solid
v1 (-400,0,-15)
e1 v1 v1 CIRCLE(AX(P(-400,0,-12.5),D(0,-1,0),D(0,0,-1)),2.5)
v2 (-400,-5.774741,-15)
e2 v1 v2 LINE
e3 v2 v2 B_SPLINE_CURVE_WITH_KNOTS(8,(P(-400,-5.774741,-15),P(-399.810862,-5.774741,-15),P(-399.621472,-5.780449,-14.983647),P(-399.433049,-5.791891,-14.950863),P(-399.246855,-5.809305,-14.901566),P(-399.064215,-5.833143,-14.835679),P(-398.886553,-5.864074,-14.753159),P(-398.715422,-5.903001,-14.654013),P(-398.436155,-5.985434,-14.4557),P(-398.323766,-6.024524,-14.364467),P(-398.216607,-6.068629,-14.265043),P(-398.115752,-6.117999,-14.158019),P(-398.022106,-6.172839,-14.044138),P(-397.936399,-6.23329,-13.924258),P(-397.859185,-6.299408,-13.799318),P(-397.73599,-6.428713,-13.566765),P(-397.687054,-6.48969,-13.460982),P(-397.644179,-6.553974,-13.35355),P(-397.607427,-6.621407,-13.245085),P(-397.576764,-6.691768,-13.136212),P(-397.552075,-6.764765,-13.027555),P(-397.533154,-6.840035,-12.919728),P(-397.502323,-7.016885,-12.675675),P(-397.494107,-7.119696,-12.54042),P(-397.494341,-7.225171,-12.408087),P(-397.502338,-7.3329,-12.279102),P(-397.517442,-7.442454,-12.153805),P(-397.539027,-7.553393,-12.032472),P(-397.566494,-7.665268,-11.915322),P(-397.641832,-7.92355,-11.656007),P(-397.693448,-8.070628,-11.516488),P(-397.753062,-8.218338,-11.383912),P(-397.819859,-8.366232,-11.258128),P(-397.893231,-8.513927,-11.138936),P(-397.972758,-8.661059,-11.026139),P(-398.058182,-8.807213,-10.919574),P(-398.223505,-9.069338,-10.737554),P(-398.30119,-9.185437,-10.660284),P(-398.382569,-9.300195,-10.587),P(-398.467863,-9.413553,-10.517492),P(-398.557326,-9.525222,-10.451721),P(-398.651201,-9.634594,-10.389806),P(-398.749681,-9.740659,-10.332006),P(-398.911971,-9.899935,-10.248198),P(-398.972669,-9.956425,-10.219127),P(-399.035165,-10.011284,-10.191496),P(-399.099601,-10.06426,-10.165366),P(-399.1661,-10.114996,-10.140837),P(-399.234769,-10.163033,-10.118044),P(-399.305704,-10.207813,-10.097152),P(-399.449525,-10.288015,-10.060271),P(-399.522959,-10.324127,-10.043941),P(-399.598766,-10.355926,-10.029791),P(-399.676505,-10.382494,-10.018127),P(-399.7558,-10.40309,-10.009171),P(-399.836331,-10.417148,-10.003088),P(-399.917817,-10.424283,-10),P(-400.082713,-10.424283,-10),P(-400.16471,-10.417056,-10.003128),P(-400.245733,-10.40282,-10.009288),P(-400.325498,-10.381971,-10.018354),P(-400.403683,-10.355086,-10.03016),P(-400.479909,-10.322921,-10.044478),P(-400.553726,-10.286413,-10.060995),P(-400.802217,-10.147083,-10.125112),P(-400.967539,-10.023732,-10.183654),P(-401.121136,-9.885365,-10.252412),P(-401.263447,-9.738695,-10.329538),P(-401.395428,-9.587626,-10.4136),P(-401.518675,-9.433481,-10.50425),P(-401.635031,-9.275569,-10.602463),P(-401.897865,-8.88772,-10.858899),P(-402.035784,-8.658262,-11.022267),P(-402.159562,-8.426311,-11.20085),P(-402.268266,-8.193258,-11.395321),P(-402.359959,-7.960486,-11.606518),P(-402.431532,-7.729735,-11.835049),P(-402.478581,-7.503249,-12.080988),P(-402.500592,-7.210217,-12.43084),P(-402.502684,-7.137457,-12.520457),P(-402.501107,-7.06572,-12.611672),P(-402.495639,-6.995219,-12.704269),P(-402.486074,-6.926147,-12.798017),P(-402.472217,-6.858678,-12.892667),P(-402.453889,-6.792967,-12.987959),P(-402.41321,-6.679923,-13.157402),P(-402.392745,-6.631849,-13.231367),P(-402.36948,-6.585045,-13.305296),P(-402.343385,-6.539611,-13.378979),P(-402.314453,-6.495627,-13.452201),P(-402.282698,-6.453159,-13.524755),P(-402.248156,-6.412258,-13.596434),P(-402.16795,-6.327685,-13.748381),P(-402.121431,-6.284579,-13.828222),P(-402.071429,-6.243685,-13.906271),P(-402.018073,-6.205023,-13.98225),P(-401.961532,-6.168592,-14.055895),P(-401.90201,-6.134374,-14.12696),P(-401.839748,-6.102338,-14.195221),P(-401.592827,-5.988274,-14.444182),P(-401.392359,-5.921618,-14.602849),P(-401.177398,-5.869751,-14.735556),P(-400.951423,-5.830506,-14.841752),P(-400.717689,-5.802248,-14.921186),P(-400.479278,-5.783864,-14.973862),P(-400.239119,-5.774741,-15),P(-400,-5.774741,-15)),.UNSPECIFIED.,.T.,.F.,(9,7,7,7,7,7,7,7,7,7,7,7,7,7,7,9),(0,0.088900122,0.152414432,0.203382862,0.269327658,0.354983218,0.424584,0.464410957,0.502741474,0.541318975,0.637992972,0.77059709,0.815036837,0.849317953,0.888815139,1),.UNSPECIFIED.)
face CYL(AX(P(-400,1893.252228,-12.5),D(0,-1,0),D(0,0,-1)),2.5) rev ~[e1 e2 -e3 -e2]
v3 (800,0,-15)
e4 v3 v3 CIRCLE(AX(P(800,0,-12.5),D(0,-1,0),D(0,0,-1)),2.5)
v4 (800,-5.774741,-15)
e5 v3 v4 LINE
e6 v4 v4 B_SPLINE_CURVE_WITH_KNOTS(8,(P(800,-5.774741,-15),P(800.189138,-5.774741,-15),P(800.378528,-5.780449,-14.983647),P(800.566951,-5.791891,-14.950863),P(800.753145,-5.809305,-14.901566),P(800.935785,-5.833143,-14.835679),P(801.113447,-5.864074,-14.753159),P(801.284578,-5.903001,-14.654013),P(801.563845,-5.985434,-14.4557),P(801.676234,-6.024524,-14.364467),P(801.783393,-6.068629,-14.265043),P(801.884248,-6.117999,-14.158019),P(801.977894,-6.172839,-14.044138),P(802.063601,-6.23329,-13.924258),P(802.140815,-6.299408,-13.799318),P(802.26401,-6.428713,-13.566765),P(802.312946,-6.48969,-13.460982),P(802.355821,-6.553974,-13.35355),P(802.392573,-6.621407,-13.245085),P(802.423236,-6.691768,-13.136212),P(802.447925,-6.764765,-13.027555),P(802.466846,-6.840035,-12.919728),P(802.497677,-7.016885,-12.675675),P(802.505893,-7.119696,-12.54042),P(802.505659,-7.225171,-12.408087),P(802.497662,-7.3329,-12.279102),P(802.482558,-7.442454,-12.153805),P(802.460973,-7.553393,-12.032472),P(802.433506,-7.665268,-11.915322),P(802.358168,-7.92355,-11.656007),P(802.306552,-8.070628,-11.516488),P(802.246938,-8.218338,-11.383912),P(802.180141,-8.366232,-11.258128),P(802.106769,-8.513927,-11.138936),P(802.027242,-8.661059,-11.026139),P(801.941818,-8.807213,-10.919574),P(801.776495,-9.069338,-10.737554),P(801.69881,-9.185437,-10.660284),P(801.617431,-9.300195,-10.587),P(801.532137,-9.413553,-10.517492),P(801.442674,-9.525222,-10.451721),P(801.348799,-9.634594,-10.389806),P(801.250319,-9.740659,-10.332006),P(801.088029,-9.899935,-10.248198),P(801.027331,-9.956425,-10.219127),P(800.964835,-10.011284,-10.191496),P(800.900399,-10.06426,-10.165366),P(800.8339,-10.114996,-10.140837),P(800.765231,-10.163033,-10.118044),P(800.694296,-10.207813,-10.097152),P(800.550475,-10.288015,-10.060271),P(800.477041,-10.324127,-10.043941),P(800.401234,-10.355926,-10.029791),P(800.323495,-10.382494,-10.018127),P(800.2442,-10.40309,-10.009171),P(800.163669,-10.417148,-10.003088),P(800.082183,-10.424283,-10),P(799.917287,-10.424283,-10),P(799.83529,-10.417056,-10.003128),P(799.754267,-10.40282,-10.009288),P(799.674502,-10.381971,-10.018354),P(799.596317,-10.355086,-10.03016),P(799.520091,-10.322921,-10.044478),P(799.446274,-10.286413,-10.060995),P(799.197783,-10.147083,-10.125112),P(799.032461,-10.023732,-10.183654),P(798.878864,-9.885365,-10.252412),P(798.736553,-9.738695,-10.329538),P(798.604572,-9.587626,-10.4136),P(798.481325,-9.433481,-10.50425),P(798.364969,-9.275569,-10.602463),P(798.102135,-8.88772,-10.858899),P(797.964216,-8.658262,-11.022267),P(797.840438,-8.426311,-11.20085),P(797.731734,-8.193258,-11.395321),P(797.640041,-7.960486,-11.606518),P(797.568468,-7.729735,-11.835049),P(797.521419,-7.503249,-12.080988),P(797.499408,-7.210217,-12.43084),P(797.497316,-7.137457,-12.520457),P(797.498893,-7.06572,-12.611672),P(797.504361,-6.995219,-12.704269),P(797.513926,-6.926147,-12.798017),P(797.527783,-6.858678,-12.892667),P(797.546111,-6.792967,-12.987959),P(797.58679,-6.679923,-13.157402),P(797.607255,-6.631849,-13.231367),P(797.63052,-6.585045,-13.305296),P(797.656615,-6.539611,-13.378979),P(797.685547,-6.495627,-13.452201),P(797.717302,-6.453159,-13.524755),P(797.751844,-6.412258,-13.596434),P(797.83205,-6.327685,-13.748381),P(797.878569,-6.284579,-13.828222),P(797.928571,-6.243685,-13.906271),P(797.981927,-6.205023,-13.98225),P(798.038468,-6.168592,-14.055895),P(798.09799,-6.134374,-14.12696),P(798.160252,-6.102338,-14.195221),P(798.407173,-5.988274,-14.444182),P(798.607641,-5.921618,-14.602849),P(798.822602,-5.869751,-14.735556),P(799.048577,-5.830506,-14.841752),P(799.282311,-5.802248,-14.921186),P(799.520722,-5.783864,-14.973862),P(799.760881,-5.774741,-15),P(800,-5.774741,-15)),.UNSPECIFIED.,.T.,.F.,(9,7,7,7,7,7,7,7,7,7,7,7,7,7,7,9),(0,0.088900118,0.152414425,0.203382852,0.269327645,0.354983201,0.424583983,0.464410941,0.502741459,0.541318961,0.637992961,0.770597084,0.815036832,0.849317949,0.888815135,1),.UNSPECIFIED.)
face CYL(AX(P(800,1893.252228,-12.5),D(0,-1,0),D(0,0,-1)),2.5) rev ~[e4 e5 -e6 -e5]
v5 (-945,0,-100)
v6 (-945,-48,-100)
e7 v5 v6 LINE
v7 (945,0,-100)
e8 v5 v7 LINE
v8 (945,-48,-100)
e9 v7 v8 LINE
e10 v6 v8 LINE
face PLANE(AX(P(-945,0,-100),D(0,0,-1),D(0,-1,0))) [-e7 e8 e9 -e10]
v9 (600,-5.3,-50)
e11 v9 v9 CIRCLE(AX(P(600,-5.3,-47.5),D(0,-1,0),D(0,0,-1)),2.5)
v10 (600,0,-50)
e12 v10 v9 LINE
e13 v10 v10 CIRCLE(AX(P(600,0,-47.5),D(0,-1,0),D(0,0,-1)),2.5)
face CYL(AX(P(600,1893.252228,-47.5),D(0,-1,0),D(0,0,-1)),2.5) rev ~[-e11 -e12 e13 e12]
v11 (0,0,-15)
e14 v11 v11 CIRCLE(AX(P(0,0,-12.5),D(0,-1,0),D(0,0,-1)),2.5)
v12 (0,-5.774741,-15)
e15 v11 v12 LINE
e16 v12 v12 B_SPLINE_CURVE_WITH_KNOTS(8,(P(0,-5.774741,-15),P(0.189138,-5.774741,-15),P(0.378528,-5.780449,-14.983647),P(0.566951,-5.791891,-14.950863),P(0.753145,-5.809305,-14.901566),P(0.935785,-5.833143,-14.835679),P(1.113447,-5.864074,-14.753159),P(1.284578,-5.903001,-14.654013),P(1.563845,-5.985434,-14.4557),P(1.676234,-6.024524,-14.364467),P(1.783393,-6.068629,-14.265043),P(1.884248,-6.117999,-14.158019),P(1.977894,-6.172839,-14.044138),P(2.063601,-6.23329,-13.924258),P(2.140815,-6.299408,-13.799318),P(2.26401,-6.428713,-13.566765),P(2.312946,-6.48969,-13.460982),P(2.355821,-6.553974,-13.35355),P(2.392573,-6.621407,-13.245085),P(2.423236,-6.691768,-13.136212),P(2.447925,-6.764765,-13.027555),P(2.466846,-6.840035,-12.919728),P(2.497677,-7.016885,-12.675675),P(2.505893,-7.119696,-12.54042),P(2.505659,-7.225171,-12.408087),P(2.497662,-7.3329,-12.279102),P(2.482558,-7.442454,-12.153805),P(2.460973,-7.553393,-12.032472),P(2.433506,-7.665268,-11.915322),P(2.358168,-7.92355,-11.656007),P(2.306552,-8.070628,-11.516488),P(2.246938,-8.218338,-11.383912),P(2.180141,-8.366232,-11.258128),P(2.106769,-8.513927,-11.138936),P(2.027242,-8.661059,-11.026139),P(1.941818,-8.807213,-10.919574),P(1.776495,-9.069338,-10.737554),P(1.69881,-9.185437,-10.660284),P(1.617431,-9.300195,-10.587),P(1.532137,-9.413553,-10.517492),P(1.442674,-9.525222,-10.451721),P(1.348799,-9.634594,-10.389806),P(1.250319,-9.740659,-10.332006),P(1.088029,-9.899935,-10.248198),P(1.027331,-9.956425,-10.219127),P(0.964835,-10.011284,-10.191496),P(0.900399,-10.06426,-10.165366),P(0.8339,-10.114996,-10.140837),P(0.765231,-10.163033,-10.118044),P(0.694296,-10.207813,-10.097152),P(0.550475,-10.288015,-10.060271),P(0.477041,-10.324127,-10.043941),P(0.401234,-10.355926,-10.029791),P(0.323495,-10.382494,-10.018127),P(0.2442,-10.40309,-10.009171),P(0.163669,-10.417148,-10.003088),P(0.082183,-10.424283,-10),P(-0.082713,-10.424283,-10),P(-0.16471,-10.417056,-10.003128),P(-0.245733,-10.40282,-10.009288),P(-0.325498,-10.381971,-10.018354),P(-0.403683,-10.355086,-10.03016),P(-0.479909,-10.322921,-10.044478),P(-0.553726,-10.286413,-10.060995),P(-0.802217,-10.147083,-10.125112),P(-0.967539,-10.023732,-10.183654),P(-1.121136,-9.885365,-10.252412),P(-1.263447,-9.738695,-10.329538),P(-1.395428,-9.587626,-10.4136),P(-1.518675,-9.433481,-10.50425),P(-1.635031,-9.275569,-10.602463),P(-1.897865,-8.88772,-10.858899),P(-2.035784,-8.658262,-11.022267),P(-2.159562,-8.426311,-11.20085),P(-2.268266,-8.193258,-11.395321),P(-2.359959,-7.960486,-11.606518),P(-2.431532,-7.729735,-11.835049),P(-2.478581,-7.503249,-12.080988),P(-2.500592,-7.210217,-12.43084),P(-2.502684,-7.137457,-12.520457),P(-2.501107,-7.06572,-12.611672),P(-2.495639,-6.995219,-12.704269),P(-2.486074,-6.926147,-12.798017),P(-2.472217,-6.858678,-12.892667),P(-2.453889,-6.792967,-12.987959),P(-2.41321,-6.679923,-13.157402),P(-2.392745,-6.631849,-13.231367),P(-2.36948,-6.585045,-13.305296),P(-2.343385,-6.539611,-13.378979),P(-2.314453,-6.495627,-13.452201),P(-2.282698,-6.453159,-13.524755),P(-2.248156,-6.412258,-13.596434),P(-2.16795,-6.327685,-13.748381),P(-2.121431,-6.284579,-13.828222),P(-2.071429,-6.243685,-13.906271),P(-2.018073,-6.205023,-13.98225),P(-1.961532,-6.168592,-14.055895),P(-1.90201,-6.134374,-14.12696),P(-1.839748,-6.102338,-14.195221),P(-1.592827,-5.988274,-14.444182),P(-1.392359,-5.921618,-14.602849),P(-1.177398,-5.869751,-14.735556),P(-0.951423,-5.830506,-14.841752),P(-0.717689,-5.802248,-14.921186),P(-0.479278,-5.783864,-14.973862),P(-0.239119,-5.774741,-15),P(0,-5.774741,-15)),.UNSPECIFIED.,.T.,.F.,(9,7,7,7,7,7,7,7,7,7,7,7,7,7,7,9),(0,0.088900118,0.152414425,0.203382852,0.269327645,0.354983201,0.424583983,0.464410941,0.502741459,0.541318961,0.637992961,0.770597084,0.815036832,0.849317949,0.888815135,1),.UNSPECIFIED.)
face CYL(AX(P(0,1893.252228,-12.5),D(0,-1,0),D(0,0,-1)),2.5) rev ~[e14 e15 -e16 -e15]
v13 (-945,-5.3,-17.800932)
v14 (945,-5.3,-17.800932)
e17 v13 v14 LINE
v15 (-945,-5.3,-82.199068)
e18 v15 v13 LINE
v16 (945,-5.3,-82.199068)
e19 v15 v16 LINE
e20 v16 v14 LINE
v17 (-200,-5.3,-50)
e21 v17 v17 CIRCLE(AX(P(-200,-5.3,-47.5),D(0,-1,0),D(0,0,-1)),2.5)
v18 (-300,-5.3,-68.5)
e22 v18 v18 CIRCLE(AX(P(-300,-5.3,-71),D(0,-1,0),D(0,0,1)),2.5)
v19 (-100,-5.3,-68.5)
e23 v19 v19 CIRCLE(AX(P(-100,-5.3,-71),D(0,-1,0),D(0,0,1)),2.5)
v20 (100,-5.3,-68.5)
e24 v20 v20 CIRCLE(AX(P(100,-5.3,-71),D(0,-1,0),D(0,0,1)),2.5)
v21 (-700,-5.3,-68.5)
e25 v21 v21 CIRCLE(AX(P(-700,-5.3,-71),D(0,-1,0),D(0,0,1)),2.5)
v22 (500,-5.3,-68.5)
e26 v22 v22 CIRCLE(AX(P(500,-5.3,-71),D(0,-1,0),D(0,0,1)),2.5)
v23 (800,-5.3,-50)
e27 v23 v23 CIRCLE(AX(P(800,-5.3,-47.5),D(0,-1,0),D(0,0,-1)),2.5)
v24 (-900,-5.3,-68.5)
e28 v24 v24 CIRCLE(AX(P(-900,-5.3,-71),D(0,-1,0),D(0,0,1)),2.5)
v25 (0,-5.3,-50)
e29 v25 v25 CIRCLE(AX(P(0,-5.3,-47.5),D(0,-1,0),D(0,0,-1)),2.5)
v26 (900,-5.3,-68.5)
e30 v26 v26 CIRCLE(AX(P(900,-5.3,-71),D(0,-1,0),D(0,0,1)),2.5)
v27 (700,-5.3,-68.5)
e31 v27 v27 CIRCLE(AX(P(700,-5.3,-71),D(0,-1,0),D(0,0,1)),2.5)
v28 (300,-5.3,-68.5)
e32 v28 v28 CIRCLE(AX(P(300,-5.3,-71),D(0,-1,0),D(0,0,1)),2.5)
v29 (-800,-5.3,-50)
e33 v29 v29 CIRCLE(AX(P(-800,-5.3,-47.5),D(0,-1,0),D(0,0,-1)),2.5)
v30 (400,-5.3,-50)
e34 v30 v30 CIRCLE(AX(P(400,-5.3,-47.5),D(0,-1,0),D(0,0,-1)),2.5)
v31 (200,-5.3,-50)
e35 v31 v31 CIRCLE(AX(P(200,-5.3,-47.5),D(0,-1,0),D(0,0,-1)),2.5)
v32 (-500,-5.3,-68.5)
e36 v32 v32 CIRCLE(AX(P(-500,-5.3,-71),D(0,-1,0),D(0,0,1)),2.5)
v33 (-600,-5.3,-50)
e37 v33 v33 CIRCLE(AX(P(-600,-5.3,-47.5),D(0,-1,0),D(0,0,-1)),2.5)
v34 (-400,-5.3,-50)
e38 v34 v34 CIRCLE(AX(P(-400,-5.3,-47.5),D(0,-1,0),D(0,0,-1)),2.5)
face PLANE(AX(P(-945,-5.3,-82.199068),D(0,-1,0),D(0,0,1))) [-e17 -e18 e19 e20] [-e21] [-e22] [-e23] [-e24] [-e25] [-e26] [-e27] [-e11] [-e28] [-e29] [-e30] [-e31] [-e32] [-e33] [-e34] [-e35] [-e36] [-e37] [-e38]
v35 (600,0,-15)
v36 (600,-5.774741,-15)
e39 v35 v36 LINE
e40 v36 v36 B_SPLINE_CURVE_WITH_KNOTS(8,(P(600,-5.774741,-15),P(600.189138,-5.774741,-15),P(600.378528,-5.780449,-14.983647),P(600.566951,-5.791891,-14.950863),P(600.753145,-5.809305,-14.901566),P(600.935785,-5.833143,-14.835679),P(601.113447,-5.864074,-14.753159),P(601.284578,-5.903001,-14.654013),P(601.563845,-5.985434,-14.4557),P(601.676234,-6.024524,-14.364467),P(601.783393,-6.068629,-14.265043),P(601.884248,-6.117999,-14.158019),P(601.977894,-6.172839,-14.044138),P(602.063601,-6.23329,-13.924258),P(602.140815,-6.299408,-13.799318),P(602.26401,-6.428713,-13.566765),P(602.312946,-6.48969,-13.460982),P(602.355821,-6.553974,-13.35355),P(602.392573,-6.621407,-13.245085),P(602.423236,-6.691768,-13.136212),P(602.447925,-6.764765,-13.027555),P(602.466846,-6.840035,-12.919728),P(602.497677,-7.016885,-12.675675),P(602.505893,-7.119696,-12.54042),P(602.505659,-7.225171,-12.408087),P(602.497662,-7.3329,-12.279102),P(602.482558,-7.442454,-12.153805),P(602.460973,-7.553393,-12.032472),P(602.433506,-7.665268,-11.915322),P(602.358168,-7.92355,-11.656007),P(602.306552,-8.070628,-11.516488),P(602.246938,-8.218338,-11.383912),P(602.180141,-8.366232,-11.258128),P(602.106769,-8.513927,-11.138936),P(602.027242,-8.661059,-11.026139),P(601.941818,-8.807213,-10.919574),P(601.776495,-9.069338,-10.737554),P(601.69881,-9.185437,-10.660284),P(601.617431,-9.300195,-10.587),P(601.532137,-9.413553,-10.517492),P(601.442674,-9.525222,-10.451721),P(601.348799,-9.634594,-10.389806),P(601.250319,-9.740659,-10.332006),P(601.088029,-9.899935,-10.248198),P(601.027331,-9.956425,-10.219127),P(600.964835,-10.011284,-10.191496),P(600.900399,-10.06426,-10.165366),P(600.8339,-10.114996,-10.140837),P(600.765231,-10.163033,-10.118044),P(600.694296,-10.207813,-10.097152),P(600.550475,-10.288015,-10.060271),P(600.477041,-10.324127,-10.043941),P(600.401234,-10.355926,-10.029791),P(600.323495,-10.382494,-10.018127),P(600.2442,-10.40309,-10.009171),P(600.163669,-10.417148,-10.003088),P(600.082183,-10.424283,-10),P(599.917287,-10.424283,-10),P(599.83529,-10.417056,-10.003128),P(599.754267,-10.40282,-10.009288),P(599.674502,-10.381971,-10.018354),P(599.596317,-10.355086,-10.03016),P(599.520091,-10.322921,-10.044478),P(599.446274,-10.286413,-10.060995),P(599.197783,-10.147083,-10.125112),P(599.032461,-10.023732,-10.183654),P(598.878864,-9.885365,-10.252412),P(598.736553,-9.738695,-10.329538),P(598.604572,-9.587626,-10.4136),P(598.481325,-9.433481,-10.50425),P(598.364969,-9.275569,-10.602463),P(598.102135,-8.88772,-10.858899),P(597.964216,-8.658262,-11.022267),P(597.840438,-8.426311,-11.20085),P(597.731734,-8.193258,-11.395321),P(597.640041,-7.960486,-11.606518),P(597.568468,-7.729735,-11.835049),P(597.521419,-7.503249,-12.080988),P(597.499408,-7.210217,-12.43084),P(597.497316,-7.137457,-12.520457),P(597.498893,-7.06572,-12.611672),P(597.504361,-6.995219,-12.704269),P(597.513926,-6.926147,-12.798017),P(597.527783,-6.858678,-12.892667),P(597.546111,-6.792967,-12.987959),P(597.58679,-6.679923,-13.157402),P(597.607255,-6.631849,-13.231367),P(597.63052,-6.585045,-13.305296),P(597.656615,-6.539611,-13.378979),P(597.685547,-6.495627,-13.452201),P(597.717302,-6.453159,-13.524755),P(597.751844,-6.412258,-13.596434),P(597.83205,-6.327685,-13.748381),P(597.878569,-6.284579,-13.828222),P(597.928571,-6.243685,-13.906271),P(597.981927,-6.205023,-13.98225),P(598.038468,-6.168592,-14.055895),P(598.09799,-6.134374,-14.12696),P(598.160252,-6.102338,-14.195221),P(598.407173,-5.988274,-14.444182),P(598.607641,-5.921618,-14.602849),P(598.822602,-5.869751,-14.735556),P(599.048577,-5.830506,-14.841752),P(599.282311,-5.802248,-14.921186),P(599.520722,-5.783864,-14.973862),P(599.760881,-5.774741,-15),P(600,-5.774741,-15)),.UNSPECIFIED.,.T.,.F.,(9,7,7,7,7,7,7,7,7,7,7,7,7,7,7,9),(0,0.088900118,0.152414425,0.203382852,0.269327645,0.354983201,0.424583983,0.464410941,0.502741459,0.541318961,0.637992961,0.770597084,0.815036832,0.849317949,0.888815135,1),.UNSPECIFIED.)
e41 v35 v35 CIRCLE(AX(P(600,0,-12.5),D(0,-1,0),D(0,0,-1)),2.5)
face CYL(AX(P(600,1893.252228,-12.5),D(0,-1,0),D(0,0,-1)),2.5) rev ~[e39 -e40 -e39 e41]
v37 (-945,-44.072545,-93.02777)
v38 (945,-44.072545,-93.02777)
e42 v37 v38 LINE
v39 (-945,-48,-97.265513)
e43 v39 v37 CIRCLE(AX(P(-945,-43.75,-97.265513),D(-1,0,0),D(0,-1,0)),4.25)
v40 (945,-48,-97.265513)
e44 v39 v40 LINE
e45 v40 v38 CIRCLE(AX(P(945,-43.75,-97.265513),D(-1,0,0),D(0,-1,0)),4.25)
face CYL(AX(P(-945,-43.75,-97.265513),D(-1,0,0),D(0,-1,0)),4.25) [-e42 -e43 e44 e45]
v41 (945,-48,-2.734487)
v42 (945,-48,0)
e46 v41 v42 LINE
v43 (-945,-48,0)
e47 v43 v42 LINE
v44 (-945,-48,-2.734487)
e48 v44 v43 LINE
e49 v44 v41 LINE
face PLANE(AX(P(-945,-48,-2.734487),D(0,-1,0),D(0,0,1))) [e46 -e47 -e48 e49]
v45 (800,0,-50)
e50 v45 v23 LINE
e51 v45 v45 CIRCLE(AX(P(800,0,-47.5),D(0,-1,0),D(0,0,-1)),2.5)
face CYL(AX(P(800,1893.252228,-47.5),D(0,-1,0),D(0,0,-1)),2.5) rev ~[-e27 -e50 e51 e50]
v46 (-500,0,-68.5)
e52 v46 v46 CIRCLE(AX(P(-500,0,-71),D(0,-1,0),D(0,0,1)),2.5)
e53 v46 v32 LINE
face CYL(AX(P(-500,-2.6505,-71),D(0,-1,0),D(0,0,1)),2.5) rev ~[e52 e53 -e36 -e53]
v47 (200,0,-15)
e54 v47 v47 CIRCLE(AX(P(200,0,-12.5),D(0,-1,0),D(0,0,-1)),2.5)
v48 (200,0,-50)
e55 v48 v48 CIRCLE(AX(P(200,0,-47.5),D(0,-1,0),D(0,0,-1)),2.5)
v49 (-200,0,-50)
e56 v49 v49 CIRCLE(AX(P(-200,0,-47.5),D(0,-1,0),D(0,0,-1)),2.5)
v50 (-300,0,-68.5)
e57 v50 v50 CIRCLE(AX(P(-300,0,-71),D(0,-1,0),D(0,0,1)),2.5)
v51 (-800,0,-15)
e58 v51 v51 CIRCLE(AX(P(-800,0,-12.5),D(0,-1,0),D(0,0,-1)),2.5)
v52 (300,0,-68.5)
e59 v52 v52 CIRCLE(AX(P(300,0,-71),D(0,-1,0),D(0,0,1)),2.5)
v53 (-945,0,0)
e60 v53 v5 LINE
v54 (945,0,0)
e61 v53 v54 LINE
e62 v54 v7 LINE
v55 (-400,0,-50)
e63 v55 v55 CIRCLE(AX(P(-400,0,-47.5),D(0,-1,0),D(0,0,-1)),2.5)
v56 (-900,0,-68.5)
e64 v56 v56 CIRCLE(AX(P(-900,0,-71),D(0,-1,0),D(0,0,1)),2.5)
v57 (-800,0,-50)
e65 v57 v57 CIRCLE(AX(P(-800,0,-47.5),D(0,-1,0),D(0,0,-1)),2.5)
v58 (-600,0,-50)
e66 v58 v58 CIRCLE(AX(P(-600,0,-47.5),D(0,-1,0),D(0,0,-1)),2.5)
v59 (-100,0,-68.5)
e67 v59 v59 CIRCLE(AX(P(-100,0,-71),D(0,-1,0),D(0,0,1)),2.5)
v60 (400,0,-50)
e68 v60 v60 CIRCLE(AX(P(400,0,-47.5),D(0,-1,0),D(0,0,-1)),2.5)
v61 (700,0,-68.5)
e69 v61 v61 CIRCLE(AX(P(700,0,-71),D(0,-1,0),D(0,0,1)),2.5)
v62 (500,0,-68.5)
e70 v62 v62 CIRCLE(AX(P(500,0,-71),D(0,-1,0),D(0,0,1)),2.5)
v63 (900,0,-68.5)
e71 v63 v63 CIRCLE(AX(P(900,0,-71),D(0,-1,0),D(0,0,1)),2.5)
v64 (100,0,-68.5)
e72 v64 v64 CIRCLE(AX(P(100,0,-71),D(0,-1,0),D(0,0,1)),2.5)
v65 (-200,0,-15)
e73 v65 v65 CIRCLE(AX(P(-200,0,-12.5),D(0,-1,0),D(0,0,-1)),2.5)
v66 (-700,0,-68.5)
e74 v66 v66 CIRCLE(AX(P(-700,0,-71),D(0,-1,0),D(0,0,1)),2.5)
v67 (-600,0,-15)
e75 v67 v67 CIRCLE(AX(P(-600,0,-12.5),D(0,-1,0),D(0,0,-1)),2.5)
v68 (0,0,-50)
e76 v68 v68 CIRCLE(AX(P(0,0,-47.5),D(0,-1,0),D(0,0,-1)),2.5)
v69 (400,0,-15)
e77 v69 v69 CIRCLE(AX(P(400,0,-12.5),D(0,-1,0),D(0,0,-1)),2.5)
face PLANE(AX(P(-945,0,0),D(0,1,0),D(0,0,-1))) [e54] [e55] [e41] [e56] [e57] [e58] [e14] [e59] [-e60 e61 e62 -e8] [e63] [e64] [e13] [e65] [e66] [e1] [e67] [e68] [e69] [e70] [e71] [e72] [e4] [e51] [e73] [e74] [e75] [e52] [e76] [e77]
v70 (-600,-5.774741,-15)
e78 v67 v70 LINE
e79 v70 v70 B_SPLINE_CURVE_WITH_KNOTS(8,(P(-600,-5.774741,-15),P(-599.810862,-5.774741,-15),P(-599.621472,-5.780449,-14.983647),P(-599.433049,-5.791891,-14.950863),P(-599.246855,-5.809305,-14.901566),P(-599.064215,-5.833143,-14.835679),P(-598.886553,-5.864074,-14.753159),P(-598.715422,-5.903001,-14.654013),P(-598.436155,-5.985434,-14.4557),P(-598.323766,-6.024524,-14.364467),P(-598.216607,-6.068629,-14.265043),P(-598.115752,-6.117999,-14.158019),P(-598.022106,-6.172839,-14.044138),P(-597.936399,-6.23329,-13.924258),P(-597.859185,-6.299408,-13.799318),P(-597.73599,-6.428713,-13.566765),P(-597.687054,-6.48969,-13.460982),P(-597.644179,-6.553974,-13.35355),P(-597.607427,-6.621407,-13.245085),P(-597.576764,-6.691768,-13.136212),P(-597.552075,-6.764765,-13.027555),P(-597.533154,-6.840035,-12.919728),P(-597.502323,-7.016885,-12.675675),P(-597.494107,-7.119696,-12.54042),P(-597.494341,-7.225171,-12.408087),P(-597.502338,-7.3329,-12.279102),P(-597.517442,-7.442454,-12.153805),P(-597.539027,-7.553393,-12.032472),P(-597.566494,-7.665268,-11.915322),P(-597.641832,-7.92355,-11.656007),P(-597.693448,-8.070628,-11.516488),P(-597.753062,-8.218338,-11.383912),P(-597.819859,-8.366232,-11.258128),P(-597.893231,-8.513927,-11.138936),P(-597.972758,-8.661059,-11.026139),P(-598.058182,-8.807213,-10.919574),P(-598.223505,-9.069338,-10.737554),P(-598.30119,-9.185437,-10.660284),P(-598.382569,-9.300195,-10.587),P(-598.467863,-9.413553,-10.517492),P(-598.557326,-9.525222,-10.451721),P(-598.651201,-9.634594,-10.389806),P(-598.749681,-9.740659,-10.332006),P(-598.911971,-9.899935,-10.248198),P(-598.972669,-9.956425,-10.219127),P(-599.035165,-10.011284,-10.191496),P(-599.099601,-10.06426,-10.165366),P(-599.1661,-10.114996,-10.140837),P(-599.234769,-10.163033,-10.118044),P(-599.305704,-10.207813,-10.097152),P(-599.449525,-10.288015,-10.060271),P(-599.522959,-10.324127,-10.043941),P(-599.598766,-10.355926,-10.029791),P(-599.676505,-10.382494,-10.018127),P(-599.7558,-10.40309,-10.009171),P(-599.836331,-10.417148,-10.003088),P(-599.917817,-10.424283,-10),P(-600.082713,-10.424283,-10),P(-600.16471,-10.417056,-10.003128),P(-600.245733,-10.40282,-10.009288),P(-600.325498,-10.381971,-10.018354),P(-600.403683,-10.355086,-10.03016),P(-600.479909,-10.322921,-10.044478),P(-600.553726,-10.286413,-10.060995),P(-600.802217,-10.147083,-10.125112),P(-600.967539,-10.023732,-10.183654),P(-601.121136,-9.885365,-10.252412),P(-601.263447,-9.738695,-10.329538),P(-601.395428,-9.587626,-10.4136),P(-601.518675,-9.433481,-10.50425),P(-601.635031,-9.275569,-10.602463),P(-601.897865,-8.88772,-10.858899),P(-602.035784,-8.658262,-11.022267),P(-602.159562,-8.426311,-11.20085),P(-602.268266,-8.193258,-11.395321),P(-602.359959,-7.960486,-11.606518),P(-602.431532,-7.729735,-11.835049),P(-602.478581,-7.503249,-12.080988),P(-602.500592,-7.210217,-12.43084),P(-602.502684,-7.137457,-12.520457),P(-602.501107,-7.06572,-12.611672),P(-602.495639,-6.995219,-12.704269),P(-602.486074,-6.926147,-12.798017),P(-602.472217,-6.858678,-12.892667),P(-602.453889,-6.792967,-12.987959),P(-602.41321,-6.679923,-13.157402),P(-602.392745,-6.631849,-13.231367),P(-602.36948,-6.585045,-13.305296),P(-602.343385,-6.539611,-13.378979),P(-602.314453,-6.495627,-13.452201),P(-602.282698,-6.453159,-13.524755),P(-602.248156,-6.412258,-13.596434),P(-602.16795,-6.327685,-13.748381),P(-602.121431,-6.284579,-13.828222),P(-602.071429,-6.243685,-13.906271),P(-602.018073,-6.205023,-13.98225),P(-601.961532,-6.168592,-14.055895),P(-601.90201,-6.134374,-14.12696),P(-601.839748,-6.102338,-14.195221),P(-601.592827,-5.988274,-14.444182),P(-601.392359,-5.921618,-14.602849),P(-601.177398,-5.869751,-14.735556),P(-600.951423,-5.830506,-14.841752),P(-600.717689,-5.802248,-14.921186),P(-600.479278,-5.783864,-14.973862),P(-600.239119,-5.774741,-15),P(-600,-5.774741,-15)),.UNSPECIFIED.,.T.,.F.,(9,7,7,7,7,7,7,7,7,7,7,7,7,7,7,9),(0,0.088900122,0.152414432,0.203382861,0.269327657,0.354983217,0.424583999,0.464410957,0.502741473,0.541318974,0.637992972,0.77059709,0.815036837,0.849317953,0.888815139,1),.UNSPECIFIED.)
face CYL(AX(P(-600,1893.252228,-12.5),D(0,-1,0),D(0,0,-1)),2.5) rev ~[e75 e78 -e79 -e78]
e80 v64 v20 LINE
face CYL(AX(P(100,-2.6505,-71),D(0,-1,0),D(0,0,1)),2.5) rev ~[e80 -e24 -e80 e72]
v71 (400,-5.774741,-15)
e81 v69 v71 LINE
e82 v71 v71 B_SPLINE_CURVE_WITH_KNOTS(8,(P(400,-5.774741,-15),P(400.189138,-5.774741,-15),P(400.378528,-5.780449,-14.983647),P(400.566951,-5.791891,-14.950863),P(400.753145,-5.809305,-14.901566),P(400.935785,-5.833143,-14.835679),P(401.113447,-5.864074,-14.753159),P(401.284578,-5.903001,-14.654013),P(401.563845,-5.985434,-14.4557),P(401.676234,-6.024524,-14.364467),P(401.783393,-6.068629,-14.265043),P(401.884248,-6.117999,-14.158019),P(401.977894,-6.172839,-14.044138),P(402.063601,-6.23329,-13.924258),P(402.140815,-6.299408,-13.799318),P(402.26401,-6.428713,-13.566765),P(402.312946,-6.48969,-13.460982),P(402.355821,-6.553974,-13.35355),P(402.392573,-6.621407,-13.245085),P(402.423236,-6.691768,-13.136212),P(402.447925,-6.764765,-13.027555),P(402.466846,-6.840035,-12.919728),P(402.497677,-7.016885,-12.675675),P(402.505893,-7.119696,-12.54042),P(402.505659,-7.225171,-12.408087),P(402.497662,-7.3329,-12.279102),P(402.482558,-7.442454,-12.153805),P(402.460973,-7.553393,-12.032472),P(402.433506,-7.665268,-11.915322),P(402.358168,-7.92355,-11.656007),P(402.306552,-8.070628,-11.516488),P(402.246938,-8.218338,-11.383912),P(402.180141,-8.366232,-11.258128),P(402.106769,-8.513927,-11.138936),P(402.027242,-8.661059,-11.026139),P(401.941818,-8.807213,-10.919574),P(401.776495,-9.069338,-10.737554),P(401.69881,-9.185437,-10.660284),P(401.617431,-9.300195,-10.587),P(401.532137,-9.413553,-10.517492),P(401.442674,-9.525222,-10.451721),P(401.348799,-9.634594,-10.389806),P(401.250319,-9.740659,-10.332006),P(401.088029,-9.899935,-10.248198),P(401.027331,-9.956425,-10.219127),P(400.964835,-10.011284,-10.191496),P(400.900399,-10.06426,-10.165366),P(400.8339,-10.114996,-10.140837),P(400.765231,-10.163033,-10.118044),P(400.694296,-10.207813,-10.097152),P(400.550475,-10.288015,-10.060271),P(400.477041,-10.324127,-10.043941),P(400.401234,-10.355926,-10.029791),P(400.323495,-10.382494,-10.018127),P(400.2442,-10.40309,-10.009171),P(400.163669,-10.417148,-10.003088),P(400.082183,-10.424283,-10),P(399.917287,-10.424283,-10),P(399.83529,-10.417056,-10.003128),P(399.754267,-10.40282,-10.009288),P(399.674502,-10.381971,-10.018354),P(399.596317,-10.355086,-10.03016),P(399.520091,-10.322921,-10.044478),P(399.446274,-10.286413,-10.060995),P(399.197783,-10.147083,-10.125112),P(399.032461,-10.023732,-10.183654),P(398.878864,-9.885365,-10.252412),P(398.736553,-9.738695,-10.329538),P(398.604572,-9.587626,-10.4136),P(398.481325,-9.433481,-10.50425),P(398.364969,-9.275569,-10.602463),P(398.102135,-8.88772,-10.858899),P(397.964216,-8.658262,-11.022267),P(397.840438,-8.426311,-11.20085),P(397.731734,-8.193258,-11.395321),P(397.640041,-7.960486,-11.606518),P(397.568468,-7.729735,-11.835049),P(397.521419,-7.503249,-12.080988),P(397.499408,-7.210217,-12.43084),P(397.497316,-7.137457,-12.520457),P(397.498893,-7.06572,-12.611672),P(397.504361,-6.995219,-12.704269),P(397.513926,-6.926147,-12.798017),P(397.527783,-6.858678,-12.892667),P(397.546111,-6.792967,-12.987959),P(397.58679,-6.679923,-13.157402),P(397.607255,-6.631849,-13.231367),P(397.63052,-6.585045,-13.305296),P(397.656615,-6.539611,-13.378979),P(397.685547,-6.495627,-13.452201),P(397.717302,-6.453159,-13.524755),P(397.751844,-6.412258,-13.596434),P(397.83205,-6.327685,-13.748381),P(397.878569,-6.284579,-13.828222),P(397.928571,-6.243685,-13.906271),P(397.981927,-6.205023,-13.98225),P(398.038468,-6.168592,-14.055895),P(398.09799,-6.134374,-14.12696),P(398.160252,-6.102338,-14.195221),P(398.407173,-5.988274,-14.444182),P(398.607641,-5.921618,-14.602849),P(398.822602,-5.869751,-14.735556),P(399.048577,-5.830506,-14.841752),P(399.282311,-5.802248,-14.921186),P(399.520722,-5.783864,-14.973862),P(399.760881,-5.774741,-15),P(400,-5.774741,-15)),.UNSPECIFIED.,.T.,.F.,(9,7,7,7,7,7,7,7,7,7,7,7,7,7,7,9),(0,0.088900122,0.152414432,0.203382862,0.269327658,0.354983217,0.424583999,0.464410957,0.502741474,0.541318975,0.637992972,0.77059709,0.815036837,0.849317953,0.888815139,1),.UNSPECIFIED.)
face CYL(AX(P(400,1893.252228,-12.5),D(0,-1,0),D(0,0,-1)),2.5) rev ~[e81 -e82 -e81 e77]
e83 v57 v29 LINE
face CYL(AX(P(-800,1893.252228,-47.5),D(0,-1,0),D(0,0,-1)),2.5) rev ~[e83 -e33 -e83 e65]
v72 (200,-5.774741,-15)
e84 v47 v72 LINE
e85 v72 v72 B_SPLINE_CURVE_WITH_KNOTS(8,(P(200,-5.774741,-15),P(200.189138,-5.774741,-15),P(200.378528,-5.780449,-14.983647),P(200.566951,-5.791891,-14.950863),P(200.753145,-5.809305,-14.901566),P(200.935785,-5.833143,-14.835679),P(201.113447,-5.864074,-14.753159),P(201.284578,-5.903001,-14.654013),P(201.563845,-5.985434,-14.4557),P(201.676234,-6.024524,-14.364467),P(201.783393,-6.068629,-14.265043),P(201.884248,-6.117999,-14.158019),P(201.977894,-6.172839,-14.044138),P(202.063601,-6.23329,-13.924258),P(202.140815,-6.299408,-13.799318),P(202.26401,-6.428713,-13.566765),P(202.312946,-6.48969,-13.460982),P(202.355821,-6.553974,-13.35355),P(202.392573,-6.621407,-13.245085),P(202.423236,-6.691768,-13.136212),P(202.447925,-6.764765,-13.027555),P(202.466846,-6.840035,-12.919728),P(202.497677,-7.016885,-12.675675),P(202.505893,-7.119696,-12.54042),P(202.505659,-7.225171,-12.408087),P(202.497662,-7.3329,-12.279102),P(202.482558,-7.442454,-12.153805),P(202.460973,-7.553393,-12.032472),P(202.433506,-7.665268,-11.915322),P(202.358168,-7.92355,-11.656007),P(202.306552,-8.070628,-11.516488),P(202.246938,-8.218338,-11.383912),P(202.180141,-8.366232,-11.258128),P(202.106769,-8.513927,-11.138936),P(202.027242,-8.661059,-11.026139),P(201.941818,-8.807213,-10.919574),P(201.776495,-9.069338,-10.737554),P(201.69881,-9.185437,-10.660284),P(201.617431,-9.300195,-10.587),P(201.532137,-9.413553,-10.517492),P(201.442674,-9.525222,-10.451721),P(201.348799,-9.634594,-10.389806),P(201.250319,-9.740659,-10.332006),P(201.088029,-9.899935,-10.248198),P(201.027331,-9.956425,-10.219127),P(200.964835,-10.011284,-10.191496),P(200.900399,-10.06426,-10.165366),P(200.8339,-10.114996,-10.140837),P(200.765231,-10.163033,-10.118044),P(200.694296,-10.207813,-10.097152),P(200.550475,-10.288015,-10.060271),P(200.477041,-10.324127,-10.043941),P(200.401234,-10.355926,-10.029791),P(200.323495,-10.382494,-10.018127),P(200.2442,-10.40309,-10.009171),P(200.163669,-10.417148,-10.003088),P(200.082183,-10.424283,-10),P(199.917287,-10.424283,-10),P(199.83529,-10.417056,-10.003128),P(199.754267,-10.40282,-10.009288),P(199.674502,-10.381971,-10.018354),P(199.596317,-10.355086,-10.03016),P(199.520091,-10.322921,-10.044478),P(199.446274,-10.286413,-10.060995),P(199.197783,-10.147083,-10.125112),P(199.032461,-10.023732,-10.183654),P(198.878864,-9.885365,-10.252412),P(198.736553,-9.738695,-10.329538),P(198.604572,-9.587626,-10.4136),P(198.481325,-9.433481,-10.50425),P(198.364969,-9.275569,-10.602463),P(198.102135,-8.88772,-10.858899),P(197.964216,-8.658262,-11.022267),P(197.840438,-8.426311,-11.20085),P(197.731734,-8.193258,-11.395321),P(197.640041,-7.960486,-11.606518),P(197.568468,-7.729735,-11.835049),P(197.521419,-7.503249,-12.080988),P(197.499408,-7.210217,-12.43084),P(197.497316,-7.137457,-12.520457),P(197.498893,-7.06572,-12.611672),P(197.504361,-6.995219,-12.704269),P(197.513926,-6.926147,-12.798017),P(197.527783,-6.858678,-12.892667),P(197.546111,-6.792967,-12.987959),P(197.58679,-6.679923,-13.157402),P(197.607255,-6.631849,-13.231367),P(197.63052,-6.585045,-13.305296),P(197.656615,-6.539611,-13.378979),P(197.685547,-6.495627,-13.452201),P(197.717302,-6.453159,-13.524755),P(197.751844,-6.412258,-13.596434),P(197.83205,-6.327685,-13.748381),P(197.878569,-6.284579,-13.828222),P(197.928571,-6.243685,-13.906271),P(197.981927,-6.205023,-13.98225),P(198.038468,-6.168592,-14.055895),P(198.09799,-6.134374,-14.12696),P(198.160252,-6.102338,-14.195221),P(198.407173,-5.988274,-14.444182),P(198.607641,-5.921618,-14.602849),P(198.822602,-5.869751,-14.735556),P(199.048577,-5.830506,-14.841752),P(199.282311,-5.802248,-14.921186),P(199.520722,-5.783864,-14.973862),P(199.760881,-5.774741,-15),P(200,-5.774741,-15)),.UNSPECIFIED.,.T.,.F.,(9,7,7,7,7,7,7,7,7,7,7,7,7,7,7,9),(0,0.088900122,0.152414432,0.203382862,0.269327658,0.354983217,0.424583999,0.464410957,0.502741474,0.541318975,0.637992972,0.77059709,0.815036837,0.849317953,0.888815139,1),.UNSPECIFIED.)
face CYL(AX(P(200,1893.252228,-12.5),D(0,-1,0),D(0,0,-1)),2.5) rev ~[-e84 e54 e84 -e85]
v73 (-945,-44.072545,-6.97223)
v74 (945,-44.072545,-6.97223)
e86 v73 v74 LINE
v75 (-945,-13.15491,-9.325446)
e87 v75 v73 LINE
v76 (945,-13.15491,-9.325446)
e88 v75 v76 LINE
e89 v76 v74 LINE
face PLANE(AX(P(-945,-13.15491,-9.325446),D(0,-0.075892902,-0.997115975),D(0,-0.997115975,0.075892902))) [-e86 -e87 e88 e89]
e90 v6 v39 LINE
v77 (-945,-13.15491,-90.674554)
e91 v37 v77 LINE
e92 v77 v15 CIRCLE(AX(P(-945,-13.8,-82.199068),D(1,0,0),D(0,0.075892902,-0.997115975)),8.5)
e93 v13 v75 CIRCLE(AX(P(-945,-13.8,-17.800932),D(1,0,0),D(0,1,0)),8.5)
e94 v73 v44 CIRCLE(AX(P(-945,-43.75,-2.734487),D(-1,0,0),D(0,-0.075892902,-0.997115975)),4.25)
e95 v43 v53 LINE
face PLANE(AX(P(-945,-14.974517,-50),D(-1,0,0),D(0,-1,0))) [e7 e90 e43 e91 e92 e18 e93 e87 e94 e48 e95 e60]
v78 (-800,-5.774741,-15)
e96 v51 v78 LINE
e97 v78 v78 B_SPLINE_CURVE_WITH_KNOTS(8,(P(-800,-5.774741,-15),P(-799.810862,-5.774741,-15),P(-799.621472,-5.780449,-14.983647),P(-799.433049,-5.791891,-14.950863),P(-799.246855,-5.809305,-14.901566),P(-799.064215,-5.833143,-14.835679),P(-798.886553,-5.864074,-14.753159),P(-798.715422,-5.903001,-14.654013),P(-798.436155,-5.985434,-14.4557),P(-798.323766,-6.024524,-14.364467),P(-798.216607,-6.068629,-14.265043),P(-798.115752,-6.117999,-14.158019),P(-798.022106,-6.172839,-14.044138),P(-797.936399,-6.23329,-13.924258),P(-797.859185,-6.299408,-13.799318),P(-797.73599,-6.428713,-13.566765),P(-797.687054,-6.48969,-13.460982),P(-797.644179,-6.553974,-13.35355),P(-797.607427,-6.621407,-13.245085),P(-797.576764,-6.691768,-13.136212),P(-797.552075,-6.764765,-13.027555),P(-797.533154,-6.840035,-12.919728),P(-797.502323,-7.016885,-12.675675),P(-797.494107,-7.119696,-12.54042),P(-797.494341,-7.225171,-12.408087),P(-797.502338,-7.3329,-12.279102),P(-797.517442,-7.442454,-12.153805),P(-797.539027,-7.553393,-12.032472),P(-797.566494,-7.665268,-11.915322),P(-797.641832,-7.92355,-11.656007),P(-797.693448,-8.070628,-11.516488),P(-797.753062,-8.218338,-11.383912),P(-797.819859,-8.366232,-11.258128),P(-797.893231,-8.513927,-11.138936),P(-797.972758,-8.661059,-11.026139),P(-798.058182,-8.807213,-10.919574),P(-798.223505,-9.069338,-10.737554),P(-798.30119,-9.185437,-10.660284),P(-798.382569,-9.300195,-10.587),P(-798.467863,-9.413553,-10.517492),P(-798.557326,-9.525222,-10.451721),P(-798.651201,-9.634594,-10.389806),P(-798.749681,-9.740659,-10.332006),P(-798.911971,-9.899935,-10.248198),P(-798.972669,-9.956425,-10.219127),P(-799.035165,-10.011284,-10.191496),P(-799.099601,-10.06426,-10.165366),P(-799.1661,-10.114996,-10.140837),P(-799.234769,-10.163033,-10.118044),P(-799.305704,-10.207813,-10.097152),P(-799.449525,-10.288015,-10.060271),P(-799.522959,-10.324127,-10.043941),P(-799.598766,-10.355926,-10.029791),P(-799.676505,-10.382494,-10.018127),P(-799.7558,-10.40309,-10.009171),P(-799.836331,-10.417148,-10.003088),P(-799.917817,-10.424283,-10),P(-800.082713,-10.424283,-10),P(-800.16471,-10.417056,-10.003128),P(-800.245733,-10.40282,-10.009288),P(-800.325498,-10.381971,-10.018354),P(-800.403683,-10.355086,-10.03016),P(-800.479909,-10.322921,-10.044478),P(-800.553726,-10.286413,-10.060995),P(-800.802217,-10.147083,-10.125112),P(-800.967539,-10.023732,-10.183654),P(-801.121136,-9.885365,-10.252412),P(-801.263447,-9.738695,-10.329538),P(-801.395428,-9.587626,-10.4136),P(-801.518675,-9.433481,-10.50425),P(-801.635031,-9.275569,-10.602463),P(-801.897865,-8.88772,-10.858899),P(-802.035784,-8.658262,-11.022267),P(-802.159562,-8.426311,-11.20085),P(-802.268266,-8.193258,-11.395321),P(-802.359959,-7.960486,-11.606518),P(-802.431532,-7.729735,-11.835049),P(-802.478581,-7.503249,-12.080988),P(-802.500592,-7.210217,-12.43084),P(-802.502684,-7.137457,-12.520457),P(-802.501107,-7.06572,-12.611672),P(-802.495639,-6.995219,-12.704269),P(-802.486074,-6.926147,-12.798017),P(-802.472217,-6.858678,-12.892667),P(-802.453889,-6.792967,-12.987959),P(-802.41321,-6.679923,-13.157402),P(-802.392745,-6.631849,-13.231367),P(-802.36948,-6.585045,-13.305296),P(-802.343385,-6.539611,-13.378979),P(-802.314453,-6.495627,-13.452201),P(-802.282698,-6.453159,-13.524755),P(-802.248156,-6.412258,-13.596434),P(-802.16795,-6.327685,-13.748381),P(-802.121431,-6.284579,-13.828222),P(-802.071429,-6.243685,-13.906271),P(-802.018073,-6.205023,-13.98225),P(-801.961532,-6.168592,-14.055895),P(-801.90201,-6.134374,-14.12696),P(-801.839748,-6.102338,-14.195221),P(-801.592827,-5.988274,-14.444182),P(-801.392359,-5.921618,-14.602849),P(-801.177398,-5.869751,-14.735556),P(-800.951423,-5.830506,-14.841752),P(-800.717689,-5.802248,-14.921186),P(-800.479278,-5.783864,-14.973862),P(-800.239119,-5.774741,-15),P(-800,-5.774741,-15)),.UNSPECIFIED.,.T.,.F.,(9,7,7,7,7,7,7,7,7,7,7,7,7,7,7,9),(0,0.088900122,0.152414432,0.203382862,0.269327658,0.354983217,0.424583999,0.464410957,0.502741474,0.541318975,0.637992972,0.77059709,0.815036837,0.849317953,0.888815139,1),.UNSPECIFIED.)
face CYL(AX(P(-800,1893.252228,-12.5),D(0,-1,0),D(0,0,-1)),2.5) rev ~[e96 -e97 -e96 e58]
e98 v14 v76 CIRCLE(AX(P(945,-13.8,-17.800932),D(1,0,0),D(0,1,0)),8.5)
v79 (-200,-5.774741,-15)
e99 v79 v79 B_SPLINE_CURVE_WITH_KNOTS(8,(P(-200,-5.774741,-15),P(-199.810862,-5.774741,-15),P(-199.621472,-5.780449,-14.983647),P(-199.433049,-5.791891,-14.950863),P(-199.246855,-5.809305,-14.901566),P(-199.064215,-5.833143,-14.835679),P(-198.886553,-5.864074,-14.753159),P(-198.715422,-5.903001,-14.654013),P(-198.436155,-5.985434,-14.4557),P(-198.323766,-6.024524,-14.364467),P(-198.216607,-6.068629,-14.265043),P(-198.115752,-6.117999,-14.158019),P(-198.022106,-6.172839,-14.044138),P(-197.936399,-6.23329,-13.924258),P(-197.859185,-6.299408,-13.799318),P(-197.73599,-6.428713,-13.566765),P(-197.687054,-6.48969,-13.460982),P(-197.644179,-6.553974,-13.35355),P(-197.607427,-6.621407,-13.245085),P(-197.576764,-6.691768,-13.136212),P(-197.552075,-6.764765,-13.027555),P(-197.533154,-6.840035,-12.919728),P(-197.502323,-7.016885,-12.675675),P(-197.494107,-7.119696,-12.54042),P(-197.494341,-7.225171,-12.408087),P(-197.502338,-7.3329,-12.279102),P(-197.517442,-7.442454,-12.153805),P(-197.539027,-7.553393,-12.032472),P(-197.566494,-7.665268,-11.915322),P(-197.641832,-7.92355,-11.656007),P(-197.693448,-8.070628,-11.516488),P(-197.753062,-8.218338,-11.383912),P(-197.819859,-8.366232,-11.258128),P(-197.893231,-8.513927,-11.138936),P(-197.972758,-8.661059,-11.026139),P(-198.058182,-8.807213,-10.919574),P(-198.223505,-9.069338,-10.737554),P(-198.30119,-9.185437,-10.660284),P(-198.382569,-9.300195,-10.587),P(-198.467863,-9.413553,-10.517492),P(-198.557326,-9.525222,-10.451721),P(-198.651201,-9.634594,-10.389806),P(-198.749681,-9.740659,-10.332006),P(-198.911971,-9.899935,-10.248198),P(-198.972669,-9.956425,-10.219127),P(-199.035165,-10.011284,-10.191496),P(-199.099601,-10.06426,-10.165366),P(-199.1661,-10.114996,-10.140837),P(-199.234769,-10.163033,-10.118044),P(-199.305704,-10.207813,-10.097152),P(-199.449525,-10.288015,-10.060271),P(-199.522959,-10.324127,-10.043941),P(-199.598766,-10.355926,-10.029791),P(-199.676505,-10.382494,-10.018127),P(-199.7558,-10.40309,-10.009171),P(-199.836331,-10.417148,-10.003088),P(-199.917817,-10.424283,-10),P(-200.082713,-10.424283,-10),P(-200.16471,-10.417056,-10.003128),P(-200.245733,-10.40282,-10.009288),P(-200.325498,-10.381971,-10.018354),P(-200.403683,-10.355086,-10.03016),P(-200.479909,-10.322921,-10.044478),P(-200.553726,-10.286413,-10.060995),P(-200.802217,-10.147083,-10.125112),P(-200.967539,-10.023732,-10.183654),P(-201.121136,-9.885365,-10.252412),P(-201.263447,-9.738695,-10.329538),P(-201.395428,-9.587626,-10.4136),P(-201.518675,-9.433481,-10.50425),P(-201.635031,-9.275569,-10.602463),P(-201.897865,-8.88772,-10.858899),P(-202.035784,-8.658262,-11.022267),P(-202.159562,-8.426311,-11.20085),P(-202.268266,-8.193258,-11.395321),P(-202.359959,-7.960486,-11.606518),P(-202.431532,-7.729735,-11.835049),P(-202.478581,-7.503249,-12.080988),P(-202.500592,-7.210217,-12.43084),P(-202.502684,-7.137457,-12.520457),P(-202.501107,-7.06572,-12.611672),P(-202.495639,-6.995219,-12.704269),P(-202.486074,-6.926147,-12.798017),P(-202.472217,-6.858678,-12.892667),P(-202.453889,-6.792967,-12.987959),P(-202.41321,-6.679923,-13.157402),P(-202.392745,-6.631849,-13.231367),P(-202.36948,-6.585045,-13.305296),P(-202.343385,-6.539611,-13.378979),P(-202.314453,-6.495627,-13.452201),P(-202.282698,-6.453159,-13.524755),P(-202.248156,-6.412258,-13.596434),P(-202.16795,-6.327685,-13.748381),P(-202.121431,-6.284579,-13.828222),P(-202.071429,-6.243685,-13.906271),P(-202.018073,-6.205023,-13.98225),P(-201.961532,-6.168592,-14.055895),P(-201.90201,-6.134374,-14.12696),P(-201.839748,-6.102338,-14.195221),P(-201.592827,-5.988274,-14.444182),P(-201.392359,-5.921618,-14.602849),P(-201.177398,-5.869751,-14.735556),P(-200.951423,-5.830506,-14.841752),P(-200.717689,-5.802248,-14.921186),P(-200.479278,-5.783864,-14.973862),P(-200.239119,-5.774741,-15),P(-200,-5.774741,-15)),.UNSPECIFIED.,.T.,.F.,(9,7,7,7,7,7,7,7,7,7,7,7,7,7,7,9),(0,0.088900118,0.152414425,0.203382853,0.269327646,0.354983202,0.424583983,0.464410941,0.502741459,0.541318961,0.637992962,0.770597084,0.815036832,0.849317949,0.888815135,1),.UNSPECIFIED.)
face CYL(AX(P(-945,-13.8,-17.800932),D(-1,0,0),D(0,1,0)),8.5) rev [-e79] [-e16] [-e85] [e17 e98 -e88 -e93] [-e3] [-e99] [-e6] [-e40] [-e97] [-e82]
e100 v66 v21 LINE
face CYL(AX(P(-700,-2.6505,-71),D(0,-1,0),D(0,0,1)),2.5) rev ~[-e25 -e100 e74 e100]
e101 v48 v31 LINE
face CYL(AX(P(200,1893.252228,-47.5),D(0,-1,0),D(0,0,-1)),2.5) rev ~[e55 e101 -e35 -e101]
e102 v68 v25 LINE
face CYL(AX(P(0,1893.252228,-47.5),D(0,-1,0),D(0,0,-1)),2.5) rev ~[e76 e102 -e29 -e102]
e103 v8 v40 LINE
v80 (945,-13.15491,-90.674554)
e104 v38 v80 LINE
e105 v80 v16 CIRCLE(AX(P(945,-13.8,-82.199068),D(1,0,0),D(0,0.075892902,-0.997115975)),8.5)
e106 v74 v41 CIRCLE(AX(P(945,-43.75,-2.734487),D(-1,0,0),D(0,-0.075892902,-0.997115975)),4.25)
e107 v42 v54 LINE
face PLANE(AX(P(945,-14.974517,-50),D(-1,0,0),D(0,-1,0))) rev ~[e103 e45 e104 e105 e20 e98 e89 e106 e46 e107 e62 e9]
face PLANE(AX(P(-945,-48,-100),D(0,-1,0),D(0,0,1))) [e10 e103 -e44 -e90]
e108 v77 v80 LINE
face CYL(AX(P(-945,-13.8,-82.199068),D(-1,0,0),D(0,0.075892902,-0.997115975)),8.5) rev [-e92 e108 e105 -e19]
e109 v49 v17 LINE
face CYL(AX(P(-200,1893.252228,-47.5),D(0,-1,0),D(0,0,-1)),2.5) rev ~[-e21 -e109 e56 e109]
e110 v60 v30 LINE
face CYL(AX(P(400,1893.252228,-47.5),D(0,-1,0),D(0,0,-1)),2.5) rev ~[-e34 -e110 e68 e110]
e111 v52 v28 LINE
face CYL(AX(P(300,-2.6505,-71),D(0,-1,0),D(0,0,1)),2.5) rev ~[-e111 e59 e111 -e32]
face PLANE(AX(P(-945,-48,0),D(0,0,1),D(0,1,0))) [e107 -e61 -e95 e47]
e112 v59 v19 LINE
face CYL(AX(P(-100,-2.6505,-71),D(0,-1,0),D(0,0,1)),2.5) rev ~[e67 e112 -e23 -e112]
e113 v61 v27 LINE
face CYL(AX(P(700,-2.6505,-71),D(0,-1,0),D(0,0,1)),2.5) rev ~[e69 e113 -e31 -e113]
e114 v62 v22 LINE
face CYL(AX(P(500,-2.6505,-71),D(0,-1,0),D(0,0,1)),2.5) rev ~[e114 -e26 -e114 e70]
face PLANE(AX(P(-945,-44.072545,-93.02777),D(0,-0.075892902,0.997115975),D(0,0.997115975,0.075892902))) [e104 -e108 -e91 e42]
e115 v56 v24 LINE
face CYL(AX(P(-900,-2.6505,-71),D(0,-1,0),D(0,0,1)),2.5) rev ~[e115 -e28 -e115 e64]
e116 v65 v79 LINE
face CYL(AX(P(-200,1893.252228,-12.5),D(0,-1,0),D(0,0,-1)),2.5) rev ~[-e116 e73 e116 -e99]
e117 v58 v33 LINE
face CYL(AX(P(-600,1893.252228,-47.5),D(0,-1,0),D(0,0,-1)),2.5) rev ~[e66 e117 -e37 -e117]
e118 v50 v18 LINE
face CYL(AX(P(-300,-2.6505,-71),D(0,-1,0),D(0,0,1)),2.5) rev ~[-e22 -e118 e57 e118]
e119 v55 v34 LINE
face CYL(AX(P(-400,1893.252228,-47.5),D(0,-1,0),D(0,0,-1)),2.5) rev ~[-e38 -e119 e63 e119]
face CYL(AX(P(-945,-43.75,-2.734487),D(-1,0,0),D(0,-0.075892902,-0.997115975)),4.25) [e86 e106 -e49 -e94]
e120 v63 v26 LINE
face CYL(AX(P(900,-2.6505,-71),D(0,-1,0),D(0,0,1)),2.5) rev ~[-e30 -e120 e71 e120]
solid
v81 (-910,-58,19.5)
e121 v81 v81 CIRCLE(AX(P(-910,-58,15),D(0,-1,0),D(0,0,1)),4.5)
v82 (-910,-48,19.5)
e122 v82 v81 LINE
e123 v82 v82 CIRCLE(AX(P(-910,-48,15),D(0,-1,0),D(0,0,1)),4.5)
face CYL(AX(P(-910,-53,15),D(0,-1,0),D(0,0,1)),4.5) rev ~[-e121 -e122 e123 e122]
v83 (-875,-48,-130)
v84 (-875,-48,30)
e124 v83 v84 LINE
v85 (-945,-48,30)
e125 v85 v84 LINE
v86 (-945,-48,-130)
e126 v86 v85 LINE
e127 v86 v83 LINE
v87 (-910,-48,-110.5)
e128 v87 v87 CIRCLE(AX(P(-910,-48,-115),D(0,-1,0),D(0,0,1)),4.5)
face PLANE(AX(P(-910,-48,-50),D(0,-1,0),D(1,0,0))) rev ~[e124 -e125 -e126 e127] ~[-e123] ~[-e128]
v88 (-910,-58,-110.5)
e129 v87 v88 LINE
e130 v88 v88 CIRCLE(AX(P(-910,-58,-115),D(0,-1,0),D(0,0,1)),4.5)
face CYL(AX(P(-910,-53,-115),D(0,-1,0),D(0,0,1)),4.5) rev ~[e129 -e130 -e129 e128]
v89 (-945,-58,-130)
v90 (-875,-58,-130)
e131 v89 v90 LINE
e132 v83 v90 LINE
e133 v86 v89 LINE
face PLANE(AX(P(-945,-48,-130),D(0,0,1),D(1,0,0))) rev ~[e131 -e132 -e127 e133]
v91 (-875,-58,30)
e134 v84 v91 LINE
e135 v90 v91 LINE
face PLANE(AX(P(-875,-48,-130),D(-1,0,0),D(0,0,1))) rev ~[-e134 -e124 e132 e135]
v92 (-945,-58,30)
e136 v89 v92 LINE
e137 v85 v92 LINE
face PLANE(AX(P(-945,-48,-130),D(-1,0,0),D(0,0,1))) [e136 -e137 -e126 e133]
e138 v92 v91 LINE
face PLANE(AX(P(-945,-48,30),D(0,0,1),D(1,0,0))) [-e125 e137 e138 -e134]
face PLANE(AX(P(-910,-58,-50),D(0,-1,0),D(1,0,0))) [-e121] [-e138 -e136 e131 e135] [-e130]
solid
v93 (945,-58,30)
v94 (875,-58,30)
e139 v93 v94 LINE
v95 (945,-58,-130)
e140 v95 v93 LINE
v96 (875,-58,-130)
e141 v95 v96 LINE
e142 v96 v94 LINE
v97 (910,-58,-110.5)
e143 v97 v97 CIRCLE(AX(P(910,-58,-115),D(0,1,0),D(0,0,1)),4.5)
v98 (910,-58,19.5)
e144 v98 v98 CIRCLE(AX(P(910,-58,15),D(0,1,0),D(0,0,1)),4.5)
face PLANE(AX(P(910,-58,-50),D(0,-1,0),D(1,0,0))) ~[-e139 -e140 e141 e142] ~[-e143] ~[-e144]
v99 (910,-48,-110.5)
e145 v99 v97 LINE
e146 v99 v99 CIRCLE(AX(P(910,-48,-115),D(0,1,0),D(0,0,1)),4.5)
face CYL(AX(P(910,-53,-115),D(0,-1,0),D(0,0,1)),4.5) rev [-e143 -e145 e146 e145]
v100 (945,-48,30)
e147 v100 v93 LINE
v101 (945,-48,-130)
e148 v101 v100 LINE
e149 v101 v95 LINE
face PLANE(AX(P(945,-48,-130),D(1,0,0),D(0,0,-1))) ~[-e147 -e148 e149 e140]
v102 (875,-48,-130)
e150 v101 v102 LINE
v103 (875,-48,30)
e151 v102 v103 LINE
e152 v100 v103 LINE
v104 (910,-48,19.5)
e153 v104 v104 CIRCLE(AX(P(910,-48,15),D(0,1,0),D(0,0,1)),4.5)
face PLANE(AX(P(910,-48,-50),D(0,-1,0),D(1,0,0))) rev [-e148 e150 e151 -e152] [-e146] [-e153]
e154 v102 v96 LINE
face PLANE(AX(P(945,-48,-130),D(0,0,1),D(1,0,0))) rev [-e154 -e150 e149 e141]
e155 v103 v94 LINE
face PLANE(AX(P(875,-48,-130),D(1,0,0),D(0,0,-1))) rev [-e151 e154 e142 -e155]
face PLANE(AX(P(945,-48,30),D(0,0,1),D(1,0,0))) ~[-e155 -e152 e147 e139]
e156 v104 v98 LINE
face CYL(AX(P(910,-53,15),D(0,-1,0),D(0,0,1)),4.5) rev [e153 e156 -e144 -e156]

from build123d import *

# Parameters (mm, degrees)
MEMBER_10_1_DEPTH              = 1890
HOLE_WIZARD_M6_1_D             = 5
PATTERN_LINEAR_2_COUNT         = 9
PATTERN_LINEAR_2_PITCH         = 200
SKETCH_10_W                    = 70
SKETCH_10_H                    = 160
EXTRUDE_1_DEPTH                = 10
SKETCH_13_W                    = 4.5
SKETCH_13_H                    = 10
HOLE_WIZARD_9_0_9_1_AT_2_COUNT = 2
HOLE_WIZARD_9_0_9_1_AT_2_PITCH = 130
SKETCH_15_W                    = 2.5
SKETCH_15_H                    = 5.301
PATTERN_LINEAR_3_COUNT         = 10
PATTERN_LINEAR_3_PITCH         = 200


with BuildPart() as part:
    # Sketch1 → Member 10_1 (new body)
    with BuildSketch(Plane.YZ.offset(-945)):
        with BuildLine():
            Line((0, 0), (0, -100))
            Line((0, -100), (-48, -100))
            Line((-48, -100), (-48, -97.265512699))
            ThreePointArc((-48, -97.265512699), (-46.867155397, -94.376595562), (-44.072544834, -93.027769806))
            Line((-44.072544834, -93.027769806), (-13.154910332, -90.674554065))
            ThreePointArc((-13.154910332, -90.674554065), (-7.565689205, -87.976902554), (-5.3, -82.199068278))
            Line((-5.3, -82.199068278), (-5.3, -17.800931722))
            ThreePointArc((-5.3, -17.800931722), (-7.565689205, -12.023097446), (-13.154910332, -9.325445935))
            Line((-13.154910332, -9.325445935), (-44.072544834, -6.972230194))
            ThreePointArc((-44.072544834, -6.972230194), (-46.867155397, -5.623404438), (-48, -2.734487301))
            Line((-48, -2.734487301), (-48, 0))
            Line((-48, 0), (0, 0))
        make_face()
    extrude(amount=MEMBER_10_1_DEPTH)

    # M6 螺纹孔1 (through all)
    with Locations(Plane(origin=(-800, 0, -12.5), x_dir=(0, 0, 1), z_dir=(0, 1, 0))):
        with Locations((0, 0), (-35, 0)):
            hole_wizard_m6_1 = Hole(HOLE_WIZARD_M6_1_D / 2)

    # 阵列(线性)2: M6 螺纹孔1 ×9
    with Locations(*[(i * PATTERN_LINEAR_2_PITCH, 0, 0) for i in range(1, PATTERN_LINEAR_2_COUNT)]):
        add(hole_wizard_m6_1, mode=Mode.SUBTRACT)

    # 草图15 → M6 螺纹孔2 (revolve, cut)
    with BuildSketch(Plane(origin=(900, 0, -71), x_dir=(0, 0, 1), z_dir=(1, 0, 0))):
        with Locations((1.25, 2.6505)):
            Rectangle(SKETCH_15_W, SKETCH_15_H)
    hole_wizard_m6_2 = revolve(axis=Axis((900, 6.35, -71), (0, -1, 0)), mode=Mode.SUBTRACT)

    # 阵列(线性)3: M6 螺纹孔2 ×10
    with Locations(*[(-i * PATTERN_LINEAR_3_PITCH, 0, 0) for i in range(1, PATTERN_LINEAR_3_COUNT)]):
        add(hole_wizard_m6_2, mode=Mode.SUBTRACT)


with BuildPart() as body_2:
    # 草图10 → 凸台-拉伸1 (new body)
    with BuildSketch(Plane.XZ.offset(48)):
        with Locations((-910, -50)):
            Rectangle(SKETCH_10_W, SKETCH_10_H)
    extrude(amount=EXTRUDE_1_DEPTH)

    # 草图13 → Ø9.0 (9) 直径孔1 (revolve, cut)
    with BuildSketch(Plane(origin=(-910, -48, -115), x_dir=(0, 0, 1), z_dir=(1, 0, 0))):
        with Locations((2.25, 5)):
            Rectangle(SKETCH_13_W, SKETCH_13_H)
    hole_wizard_9_0_9_1 = revolve(axis=Axis((-910, -41.65, -115), (0, -1, 0)), mode=Mode.SUBTRACT)

    # Ø9.0 (9) 直径孔1 at 2: Ø9.0 (9) 直径孔1 ×2
    with Locations(*[(0, 0, i * HOLE_WIZARD_9_0_9_1_AT_2_PITCH) for i in range(1, HOLE_WIZARD_9_0_9_1_AT_2_COUNT)]):
        add(hole_wizard_9_0_9_1, mode=Mode.SUBTRACT)


with BuildPart() as body_3:
    # 镜向1: mirrored copy
    add(body_2.part.mirror(Plane(origin=(0, 0, 0), x_dir=(0, 0, 1), z_dir=(1, 0, 0))))


solid = Compound([part.part, body_2.part, body_3.part])
